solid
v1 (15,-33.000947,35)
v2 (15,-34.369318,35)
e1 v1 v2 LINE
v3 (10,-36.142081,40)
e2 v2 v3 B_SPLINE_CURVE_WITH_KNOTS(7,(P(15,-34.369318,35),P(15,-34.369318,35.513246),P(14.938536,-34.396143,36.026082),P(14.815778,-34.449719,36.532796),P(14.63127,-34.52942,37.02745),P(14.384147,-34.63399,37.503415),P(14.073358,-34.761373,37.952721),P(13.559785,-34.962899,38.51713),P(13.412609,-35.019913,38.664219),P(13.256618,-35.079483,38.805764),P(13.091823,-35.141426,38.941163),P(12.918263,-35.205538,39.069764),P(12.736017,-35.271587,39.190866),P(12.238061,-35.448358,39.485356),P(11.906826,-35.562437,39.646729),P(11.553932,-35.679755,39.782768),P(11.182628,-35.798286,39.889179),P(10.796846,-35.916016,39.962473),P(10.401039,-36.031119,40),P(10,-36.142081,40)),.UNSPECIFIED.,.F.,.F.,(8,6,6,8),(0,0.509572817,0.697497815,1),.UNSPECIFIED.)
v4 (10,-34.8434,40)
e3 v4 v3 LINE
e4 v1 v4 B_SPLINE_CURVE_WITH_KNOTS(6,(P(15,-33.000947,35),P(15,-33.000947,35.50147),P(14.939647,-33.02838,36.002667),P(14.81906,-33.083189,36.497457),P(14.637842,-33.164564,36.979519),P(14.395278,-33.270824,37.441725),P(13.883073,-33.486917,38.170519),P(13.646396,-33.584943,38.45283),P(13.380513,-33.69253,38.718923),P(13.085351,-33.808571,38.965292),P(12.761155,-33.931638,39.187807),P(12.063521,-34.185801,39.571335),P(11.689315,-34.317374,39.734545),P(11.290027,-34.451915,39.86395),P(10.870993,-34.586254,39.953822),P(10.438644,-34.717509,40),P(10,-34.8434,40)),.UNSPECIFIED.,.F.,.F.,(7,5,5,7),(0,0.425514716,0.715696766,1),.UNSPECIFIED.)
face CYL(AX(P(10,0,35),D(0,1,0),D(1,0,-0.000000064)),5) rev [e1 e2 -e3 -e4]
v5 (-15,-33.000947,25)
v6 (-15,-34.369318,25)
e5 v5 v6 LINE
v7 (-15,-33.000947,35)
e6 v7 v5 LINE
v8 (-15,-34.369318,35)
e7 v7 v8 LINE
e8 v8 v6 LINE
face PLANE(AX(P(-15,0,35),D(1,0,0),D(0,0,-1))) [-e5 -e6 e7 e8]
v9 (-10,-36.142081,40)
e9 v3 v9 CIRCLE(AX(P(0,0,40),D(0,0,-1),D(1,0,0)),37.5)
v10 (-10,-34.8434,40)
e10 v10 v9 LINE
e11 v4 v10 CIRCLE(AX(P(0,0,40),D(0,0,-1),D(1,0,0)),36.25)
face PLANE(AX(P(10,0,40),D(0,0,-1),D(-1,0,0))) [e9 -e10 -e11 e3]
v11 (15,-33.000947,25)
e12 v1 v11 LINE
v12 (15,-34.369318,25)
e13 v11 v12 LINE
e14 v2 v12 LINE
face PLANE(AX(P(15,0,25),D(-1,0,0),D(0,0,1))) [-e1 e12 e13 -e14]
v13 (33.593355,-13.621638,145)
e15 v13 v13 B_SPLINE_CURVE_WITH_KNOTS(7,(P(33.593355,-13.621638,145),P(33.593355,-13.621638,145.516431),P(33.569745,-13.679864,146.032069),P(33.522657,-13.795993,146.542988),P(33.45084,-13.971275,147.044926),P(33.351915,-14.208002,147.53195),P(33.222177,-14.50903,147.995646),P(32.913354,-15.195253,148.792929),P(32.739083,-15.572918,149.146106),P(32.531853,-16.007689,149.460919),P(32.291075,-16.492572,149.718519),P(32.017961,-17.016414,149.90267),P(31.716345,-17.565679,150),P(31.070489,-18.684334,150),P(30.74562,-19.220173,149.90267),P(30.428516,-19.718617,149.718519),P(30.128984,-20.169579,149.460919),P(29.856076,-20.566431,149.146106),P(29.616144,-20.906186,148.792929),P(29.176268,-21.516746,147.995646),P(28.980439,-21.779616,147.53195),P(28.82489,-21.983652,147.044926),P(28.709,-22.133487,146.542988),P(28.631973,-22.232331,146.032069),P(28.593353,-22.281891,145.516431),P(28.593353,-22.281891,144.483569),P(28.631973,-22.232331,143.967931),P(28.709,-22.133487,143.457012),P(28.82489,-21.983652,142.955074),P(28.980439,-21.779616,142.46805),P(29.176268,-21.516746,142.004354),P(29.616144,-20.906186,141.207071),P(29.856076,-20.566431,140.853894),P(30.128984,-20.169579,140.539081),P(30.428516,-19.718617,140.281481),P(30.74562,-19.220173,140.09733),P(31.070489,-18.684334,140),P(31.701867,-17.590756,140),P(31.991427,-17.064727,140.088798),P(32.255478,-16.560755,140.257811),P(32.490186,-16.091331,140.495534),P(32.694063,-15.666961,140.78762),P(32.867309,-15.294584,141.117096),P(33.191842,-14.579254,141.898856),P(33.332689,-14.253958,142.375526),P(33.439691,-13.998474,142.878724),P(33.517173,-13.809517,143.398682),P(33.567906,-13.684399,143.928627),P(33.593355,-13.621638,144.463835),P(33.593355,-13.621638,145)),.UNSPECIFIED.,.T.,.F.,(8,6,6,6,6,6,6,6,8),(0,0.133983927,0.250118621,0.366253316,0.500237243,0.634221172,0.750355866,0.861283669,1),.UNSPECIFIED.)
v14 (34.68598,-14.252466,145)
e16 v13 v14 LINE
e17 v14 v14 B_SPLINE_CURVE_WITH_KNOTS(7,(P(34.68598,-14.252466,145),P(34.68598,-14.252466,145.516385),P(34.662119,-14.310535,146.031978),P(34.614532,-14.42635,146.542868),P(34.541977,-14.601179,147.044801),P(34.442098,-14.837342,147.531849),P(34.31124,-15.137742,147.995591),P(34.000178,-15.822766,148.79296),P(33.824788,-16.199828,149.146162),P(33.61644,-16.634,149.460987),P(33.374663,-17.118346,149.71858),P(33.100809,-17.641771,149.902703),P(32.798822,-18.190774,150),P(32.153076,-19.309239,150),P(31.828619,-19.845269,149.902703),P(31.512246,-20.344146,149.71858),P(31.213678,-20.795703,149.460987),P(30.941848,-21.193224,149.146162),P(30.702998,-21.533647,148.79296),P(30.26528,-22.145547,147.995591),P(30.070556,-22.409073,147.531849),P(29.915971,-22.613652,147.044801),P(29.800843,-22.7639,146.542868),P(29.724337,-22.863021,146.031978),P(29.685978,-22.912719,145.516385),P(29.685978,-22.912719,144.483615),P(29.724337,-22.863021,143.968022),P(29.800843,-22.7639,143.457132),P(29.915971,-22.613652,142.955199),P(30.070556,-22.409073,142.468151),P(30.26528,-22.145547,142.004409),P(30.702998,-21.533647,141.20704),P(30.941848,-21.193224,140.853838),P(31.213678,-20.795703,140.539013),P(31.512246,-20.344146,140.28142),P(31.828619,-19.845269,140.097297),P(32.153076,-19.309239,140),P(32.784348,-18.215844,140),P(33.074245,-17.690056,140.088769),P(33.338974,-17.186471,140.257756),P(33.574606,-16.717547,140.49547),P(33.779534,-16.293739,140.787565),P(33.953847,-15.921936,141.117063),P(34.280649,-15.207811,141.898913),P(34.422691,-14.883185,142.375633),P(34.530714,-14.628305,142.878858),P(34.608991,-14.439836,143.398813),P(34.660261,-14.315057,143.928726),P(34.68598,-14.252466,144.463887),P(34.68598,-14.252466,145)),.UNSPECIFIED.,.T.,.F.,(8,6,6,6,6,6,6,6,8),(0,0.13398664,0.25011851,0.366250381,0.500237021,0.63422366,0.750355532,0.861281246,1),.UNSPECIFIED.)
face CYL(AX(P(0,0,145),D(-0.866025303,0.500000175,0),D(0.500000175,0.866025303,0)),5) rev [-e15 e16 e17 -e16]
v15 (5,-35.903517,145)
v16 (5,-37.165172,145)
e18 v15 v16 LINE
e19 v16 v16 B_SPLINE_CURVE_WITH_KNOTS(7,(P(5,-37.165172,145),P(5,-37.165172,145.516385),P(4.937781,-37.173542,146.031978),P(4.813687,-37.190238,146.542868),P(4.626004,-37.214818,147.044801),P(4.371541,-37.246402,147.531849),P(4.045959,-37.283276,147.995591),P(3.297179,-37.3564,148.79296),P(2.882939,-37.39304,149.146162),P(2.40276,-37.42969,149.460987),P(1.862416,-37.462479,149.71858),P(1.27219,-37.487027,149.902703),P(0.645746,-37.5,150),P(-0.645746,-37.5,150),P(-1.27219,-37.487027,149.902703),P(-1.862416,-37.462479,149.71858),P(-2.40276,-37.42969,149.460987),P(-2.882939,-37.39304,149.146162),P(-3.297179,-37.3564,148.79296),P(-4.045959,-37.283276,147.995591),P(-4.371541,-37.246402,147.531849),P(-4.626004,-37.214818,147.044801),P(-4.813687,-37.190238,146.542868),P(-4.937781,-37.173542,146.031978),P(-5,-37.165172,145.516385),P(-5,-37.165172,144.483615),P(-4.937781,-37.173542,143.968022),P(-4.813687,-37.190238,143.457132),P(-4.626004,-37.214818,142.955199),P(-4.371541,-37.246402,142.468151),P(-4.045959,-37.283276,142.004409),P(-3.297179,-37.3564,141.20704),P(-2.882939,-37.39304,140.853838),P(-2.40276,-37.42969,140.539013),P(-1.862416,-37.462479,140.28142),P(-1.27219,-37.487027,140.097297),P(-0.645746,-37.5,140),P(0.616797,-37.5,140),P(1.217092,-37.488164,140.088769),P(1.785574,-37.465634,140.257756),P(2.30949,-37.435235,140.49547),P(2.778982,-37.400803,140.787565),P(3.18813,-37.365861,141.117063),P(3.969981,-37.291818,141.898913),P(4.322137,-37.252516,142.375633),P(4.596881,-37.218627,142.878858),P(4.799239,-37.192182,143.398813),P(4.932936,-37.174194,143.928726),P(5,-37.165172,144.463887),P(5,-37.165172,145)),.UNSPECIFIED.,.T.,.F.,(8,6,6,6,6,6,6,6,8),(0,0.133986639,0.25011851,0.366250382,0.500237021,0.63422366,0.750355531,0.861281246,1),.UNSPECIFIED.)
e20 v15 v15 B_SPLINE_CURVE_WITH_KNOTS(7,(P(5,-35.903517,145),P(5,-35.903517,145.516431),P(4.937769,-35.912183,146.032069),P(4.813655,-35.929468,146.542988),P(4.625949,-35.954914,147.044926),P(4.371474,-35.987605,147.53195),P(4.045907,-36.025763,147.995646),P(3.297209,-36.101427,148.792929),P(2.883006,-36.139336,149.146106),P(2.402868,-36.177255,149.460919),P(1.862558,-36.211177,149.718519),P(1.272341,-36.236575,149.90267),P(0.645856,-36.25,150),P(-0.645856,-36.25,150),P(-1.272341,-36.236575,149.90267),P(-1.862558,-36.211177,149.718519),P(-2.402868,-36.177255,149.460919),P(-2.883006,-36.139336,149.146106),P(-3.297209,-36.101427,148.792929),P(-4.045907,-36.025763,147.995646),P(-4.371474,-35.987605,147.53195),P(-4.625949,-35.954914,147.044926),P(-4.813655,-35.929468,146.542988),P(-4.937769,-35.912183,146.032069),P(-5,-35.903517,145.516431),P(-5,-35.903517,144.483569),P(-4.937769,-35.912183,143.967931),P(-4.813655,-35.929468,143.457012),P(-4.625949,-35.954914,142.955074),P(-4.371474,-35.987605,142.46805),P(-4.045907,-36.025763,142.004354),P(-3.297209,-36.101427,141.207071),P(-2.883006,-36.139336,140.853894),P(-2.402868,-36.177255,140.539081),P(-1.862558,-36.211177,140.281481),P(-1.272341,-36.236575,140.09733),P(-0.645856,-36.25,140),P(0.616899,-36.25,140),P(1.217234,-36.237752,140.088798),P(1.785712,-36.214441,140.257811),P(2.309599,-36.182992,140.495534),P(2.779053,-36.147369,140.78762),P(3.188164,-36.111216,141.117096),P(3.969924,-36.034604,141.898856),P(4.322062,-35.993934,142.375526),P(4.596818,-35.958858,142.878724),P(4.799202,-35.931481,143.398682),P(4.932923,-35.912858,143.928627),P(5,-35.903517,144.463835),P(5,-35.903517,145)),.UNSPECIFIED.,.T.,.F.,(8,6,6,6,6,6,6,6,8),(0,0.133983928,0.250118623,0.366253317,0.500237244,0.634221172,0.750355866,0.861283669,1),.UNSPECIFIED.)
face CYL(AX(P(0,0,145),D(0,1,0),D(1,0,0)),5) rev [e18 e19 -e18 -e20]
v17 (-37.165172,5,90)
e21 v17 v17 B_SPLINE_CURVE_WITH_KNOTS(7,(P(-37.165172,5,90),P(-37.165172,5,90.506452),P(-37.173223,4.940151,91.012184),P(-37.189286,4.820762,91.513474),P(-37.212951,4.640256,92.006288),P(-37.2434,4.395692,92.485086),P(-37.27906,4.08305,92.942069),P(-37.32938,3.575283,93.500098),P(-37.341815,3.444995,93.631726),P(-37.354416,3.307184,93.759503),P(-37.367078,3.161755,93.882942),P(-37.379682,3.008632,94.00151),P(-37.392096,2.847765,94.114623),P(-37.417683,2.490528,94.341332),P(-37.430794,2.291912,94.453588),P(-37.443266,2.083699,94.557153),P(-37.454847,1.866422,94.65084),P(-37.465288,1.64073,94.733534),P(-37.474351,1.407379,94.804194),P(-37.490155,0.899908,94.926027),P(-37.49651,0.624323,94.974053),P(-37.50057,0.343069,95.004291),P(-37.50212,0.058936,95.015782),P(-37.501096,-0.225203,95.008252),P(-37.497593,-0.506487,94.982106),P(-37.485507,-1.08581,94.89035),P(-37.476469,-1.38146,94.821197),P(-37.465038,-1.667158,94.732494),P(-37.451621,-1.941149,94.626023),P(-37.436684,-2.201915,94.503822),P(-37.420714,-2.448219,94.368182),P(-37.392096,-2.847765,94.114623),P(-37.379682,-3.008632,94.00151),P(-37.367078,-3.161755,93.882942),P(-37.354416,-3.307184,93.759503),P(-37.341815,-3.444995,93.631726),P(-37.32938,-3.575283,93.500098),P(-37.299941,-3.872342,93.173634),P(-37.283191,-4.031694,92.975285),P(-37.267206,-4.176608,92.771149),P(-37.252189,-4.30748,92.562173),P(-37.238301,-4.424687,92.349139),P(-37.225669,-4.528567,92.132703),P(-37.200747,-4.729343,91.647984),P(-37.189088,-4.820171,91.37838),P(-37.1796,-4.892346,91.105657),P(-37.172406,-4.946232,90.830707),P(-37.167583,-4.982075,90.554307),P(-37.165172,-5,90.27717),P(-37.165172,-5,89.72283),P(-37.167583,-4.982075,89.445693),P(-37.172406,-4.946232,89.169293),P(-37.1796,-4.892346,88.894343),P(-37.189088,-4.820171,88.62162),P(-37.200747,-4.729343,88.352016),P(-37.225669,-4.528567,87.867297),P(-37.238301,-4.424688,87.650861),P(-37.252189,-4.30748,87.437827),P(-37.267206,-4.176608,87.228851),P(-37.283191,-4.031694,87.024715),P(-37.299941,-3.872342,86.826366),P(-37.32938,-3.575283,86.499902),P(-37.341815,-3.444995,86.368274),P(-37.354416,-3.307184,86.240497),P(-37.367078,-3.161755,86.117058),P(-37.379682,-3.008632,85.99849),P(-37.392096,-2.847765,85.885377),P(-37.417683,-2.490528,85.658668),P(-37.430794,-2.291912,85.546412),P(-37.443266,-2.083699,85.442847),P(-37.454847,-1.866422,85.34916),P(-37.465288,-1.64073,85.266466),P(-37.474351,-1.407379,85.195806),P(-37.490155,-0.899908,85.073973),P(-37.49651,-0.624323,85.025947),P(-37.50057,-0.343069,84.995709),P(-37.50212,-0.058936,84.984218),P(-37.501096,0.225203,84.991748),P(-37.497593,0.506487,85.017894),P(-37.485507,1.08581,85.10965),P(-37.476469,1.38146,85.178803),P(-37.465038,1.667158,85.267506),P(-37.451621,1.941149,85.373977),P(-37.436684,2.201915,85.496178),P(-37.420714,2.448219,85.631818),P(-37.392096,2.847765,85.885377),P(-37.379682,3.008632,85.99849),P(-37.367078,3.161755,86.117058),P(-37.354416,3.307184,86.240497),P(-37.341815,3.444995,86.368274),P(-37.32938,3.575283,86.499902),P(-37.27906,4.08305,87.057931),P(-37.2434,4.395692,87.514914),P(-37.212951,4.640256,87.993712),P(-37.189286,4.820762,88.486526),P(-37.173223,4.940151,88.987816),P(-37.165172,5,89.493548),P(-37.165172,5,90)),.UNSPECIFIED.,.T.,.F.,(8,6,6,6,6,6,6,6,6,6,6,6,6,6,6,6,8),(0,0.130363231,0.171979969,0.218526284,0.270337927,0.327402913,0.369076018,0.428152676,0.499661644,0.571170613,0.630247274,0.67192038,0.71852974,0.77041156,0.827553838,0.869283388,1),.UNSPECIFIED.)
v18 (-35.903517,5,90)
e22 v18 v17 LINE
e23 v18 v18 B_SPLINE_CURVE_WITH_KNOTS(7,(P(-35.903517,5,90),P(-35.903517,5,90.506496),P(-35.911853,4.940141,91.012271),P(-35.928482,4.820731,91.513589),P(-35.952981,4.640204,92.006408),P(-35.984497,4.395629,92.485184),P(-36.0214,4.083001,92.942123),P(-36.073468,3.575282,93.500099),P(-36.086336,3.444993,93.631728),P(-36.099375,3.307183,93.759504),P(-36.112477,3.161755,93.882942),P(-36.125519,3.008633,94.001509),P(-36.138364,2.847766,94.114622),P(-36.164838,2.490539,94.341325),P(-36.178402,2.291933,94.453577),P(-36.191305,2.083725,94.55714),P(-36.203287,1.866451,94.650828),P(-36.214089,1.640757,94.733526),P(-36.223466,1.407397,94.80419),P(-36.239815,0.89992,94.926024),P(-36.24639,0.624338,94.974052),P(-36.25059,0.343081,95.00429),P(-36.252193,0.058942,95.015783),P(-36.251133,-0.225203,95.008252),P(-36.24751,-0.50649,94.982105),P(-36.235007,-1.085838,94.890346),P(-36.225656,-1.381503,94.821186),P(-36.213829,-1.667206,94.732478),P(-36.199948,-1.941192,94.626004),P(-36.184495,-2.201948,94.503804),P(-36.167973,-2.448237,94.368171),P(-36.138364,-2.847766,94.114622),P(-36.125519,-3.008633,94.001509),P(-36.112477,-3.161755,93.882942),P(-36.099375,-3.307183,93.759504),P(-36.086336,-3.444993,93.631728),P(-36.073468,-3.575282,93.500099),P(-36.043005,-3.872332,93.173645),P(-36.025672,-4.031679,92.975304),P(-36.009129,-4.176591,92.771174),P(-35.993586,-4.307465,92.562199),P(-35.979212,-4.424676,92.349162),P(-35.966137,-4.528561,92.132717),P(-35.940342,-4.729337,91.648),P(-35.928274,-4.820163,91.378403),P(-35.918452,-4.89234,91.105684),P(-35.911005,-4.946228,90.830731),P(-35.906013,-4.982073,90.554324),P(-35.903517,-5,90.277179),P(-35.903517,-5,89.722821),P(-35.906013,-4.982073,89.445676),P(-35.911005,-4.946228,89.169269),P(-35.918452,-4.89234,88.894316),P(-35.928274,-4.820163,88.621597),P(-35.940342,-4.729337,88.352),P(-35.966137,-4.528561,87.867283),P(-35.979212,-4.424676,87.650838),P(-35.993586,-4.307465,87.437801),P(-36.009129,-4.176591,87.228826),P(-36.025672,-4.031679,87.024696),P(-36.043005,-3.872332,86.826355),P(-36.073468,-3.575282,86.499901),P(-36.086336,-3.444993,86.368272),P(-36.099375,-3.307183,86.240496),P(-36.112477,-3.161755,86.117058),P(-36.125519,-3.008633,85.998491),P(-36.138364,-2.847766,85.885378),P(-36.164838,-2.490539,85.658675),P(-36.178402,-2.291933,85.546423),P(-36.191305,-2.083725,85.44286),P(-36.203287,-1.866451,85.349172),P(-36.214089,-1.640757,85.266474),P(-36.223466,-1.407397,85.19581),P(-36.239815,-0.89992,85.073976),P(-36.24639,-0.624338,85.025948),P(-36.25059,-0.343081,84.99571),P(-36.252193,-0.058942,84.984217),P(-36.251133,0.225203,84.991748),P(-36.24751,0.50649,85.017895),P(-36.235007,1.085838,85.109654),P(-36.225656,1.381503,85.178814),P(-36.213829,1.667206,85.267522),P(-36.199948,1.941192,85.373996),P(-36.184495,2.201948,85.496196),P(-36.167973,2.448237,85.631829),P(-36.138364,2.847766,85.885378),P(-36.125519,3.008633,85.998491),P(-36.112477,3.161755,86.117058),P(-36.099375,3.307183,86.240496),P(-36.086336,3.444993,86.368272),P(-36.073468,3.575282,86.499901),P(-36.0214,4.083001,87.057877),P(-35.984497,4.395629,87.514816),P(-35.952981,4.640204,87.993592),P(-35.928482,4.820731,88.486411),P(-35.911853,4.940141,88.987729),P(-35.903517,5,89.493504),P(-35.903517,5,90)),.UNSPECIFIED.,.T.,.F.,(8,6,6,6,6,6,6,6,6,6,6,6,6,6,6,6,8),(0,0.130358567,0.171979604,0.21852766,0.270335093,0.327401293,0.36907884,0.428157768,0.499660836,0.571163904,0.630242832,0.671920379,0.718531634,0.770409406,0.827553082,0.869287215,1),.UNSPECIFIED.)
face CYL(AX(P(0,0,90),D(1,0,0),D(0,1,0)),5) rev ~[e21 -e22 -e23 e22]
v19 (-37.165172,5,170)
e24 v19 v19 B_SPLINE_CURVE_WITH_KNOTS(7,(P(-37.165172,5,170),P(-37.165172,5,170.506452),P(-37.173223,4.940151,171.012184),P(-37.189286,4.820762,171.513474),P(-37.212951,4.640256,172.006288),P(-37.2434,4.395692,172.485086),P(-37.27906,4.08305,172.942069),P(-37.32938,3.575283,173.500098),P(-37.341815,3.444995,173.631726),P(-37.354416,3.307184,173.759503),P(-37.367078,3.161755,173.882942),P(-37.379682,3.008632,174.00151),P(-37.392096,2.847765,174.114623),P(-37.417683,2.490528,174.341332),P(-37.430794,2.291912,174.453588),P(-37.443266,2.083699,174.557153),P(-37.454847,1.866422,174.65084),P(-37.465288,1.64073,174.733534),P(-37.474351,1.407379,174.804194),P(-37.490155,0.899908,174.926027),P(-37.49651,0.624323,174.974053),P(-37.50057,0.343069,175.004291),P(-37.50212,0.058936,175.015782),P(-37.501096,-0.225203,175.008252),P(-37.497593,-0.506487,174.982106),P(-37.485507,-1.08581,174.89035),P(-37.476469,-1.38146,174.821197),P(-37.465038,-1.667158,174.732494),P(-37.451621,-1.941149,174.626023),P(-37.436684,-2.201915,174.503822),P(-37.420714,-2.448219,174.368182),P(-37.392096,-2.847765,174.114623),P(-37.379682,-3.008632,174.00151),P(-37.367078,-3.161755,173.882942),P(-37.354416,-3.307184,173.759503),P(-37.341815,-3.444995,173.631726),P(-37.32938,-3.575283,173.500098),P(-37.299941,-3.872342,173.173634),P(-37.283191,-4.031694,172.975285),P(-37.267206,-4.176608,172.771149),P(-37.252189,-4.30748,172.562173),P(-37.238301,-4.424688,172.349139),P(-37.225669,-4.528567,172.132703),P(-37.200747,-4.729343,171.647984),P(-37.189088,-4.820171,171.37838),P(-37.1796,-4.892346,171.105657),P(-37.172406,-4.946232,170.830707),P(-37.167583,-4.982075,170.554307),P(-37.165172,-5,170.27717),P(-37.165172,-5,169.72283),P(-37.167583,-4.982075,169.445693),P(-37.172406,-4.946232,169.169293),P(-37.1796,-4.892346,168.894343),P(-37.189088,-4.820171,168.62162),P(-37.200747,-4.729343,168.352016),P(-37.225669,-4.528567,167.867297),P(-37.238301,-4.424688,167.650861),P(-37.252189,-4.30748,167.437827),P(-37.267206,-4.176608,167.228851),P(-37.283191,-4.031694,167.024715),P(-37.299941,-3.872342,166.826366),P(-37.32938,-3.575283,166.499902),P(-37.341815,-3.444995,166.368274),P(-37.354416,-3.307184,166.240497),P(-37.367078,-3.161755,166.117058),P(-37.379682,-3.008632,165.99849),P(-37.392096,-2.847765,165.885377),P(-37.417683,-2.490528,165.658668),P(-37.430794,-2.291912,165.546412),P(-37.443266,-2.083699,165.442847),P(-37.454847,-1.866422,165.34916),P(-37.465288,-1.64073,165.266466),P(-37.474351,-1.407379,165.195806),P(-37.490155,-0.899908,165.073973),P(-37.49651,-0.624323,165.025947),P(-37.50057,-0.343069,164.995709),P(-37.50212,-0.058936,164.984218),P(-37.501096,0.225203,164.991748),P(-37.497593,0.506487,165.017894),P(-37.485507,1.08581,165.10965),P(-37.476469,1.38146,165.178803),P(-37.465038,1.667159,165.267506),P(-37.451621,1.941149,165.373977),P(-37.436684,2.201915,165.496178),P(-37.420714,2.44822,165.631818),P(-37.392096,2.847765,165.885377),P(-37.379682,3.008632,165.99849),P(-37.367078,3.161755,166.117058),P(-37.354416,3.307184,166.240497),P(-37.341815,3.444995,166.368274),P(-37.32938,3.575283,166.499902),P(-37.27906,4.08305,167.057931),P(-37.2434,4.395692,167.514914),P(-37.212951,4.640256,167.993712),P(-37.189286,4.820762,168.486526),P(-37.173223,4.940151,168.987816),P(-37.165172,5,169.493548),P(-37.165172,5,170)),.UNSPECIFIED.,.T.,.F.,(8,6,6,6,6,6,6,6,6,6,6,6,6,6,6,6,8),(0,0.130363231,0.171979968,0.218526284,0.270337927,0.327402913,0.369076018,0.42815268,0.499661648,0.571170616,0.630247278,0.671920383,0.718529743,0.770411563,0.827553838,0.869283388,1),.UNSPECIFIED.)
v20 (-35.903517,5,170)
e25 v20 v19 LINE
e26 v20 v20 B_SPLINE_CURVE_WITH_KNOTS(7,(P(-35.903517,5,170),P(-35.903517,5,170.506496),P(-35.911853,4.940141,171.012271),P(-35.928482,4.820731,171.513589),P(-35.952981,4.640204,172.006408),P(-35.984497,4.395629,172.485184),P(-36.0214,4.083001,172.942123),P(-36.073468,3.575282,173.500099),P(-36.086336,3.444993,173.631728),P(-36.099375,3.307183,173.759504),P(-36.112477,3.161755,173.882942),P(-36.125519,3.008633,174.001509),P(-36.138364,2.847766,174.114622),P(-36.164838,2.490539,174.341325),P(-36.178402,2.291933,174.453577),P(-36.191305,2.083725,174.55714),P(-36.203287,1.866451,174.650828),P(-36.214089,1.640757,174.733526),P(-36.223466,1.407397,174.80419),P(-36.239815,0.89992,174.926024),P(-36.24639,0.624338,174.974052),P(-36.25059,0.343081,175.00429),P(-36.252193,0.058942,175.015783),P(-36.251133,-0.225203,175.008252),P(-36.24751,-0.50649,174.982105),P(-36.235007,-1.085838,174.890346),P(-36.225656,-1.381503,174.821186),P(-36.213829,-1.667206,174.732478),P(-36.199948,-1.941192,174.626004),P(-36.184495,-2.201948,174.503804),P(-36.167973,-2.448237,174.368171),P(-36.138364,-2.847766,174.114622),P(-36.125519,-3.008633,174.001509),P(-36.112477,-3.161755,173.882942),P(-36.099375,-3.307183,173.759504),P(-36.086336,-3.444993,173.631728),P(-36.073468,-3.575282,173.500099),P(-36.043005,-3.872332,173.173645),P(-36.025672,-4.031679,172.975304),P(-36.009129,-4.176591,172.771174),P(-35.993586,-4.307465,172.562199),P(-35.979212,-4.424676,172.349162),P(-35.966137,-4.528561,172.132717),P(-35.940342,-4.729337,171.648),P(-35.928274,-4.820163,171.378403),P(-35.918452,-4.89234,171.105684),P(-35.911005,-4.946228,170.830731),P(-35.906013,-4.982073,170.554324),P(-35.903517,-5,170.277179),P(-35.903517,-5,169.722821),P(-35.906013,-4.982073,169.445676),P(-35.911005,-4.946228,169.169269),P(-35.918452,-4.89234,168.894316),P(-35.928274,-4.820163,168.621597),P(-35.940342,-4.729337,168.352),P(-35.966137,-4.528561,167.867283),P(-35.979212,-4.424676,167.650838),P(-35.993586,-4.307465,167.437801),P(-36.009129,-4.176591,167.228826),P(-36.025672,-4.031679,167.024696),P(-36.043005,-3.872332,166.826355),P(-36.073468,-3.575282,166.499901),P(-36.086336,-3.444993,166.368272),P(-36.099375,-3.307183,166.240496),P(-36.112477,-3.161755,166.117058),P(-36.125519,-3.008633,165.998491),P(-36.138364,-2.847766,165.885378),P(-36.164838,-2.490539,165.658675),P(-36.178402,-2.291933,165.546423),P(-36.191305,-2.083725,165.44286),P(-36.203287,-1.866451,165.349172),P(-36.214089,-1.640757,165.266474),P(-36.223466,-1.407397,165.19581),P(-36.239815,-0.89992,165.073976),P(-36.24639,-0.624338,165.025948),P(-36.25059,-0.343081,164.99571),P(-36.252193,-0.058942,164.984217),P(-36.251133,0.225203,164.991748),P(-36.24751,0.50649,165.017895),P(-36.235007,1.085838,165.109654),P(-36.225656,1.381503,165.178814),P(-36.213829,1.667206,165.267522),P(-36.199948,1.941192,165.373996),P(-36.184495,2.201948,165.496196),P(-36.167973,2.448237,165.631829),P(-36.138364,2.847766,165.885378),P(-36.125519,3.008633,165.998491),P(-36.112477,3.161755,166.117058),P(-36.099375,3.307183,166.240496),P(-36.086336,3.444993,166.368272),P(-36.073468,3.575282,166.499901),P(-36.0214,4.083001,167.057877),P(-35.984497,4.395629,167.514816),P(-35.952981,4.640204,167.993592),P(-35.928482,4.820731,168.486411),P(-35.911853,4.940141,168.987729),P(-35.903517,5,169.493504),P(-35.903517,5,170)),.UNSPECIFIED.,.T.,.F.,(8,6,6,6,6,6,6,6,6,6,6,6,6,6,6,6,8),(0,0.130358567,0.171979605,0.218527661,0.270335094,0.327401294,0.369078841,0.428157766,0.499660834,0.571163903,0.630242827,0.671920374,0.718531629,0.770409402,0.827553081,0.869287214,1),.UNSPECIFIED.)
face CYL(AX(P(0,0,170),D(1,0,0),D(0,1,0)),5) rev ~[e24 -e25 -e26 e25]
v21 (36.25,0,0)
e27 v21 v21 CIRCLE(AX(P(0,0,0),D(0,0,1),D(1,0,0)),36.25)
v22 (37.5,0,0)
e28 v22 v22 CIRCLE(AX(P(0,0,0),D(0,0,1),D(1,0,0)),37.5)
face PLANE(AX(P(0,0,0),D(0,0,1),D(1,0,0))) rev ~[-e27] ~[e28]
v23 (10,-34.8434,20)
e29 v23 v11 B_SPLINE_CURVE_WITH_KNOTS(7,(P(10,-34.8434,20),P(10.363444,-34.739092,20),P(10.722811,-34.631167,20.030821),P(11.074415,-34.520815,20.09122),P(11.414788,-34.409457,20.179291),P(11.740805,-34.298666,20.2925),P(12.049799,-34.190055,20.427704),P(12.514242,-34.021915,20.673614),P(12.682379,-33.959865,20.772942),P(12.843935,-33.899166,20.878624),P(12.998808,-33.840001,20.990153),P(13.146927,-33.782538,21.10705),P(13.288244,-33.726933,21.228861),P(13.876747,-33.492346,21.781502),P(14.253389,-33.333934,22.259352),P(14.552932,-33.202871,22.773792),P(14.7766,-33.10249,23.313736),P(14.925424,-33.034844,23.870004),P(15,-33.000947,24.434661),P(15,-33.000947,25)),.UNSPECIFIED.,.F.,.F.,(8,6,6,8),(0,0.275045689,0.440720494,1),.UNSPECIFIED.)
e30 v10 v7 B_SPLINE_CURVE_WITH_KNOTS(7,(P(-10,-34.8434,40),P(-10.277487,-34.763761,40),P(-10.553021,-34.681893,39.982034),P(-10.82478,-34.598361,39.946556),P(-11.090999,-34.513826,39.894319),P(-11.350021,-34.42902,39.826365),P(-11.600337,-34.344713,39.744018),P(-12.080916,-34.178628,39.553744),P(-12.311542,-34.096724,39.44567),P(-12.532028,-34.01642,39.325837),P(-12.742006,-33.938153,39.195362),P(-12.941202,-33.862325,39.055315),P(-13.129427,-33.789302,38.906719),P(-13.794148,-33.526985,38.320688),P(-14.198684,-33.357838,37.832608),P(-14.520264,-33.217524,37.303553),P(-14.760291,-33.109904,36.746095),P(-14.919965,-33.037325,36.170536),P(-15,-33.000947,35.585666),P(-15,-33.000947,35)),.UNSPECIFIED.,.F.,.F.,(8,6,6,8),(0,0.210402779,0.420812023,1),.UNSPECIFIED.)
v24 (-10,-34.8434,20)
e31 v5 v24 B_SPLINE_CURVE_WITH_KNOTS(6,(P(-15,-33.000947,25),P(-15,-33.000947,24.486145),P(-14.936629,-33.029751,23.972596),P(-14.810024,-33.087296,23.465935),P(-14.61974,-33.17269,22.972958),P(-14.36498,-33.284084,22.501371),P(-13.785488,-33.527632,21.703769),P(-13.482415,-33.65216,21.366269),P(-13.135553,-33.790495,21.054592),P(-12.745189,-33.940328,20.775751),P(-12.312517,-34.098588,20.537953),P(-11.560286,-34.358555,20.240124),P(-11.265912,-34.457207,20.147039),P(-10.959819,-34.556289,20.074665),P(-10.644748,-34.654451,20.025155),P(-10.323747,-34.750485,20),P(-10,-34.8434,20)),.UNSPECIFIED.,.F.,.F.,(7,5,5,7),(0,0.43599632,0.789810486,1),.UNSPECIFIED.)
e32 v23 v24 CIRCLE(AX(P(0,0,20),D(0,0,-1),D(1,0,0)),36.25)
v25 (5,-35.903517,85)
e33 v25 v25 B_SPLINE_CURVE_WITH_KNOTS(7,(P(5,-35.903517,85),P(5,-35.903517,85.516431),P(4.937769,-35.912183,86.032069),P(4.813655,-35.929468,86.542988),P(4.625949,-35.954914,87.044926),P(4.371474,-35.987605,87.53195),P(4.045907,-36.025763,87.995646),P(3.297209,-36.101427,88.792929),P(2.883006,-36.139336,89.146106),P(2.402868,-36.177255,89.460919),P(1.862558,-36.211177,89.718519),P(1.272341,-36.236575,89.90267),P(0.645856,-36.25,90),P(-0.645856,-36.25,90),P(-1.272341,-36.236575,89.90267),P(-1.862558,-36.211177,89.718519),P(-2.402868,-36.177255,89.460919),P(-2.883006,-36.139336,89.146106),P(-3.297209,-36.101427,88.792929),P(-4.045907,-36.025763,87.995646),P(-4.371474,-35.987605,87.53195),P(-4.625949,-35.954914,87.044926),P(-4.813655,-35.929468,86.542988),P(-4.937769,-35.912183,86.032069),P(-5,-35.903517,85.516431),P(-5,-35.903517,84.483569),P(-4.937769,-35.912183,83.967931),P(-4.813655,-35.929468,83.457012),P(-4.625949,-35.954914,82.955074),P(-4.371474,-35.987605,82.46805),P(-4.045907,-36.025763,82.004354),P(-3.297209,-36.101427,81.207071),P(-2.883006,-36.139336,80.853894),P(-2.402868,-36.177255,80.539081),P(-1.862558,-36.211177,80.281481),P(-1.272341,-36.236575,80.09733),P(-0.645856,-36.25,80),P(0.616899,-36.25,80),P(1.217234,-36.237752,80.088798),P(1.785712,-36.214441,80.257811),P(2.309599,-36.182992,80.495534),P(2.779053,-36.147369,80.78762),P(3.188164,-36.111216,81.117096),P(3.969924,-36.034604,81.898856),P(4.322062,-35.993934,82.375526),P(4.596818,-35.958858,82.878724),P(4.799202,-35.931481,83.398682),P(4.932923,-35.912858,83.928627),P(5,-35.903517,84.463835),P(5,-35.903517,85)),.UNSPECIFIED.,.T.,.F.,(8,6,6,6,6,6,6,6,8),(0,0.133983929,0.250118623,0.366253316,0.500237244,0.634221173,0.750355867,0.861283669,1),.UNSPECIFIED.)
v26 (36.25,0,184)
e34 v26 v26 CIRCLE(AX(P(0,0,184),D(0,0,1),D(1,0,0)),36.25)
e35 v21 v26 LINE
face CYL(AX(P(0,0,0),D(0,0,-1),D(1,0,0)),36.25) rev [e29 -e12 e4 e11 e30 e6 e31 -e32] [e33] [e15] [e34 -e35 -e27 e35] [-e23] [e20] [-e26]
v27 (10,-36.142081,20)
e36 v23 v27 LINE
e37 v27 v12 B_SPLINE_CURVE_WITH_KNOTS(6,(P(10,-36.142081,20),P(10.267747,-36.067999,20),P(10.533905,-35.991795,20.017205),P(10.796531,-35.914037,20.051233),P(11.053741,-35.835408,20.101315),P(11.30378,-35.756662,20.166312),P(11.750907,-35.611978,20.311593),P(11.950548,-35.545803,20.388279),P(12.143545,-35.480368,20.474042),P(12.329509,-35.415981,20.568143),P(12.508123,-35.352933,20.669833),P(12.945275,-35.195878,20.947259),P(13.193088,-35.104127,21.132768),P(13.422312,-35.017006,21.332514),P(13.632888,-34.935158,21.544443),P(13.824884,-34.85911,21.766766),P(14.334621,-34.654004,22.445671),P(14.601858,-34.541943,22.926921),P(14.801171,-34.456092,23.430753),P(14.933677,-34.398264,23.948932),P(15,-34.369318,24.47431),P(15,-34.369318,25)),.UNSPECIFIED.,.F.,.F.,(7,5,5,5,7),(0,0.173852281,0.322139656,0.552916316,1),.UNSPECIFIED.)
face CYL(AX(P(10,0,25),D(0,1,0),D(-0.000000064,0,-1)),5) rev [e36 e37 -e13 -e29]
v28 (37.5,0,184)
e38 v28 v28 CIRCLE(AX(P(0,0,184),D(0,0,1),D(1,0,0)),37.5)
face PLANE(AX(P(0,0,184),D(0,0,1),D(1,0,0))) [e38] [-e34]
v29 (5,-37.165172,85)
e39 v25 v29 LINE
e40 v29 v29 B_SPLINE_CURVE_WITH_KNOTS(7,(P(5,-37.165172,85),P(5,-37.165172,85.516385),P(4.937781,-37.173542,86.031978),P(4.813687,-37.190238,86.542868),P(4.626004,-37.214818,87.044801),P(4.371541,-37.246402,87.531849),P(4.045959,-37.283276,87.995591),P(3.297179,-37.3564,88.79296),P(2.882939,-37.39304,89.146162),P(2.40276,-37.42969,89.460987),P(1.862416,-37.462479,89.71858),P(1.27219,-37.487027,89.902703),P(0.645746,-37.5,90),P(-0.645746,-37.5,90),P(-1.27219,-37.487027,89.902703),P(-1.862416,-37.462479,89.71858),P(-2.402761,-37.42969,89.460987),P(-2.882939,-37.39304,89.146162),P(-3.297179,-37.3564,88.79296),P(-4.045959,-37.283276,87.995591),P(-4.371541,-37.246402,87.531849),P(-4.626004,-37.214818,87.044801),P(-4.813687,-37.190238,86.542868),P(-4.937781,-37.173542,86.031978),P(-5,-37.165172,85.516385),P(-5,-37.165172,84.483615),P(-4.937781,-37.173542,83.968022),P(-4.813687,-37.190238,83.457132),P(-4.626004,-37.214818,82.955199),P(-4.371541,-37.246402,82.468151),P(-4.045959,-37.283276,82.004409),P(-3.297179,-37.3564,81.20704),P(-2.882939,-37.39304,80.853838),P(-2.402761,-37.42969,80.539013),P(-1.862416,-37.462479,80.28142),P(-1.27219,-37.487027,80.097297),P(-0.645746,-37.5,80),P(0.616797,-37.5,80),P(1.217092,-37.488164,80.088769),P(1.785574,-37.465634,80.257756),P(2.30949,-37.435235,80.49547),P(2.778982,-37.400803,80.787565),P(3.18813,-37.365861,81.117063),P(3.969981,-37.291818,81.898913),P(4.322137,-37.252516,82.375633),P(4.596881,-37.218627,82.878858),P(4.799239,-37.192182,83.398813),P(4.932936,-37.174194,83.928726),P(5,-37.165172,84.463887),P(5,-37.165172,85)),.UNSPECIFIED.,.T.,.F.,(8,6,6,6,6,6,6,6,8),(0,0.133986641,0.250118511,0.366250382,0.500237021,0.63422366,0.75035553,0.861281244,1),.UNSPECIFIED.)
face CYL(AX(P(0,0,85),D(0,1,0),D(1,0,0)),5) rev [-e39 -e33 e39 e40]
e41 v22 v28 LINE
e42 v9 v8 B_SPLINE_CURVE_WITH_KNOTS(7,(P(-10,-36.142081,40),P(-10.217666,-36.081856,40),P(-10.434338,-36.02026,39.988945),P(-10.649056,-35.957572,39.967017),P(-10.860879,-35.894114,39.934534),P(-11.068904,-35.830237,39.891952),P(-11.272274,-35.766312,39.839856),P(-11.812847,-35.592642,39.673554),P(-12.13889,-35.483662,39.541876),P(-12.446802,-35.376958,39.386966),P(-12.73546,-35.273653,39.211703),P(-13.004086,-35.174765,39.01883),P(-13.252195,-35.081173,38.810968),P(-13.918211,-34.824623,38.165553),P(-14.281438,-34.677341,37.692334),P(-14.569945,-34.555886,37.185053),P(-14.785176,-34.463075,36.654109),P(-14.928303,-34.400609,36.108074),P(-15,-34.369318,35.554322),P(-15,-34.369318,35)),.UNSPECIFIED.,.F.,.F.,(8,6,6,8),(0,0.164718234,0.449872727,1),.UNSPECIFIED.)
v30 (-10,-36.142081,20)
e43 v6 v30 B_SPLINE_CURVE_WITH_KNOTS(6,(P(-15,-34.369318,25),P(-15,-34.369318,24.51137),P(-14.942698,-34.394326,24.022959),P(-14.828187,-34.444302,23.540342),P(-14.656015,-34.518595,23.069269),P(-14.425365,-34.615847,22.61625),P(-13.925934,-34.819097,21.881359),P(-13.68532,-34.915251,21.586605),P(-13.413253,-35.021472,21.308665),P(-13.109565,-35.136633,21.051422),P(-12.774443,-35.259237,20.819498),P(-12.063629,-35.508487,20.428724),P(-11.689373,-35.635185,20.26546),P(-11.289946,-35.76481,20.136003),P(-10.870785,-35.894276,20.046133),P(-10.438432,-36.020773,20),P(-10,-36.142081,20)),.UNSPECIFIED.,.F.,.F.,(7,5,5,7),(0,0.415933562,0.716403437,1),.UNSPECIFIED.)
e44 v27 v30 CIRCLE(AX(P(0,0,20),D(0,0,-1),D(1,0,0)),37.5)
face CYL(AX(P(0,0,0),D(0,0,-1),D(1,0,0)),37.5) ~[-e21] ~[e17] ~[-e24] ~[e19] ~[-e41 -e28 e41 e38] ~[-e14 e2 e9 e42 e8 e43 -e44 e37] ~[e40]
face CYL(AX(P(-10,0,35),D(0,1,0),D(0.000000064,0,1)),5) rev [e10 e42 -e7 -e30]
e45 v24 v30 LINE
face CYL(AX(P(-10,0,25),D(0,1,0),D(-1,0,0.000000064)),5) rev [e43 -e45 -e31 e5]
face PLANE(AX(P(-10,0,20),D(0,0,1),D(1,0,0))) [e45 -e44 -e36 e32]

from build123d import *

# Parameters (mm, degrees)
F0_R          = 37.5
F0_R_2        = 36.25
F1_DEPTH      = 184
F2_R          = 5
F3_DEPTH      = 50
F4_R          = 5
F5_DEPTH      = 70
F5_DEPTH_BACK = 25
F7_DEPTH      = 70
F8_R          = 5
F9_DEPTH      = 60
F12_R         = 5
F13_DEPTH     = 100


with BuildPart() as f1:
    # F0 (on Top) → F1 (new body)
    with BuildSketch(Plane.XY):
        Circle(F0_R)
        Circle(F0_R_2, mode=Mode.SUBTRACT)
    extrude(amount=F1_DEPTH)

    # F2 (on Right) → F3 (cut)
    with BuildSketch(Plane.YZ):
        with Locations((0, 170)):
            Circle(F2_R)
    extrude(amount=-F3_DEPTH, mode=Mode.SUBTRACT)

    # F4 (on Front) → F5 (cut, two sides)
    with BuildSketch(Plane.XZ) as f5_sk:
        with Locations((0, 85)):
            Circle(F4_R)
        with Locations((0, 145)):
            Circle(F4_R)
    extrude(amount=F5_DEPTH, mode=Mode.SUBTRACT)
    extrude(f5_sk.sketch, amount=-F5_DEPTH_BACK, mode=Mode.SUBTRACT)

    # F6 (on Front) → F7 (cut)
    with BuildSketch(Plane.XZ):
        with BuildLine():
            Line((-10, 20), (10, 20))
            ThreePointArc((10, 20), (13.535534, 21.464466), (15, 25))
            Line((15, 25), (15, 35))
            ThreePointArc((15, 35), (13.535534, 38.535534), (10, 40))
            Line((10, 40), (-10, 40))
            ThreePointArc((-10, 40), (-13.535534, 38.535534), (-15, 35))
            Line((-15, 35), (-15, 25))
            ThreePointArc((-15, 25), (-13.535534, 21.464466), (-10, 20))
        make_face()
    extrude(amount=F7_DEPTH, mode=Mode.SUBTRACT)

    # F8 (on Right) → F9 (cut)
    with BuildSketch(Plane.YZ):
        with Locations((0, 90)):
            Circle(F8_R)
    extrude(amount=-F9_DEPTH, mode=Mode.SUBTRACT)

    # F12 (on face) → F13 (cut)
    with BuildSketch(Plane(origin=(0, 0, 0), x_dir=(0.5, 0.866025, 0), z_dir=(0.866025, -0.5, 0))):
        with Locations((0, 145)):
            Circle(F12_R)
    extrude(amount=F13_DEPTH, mode=Mode.SUBTRACT)


solid = f1.part
